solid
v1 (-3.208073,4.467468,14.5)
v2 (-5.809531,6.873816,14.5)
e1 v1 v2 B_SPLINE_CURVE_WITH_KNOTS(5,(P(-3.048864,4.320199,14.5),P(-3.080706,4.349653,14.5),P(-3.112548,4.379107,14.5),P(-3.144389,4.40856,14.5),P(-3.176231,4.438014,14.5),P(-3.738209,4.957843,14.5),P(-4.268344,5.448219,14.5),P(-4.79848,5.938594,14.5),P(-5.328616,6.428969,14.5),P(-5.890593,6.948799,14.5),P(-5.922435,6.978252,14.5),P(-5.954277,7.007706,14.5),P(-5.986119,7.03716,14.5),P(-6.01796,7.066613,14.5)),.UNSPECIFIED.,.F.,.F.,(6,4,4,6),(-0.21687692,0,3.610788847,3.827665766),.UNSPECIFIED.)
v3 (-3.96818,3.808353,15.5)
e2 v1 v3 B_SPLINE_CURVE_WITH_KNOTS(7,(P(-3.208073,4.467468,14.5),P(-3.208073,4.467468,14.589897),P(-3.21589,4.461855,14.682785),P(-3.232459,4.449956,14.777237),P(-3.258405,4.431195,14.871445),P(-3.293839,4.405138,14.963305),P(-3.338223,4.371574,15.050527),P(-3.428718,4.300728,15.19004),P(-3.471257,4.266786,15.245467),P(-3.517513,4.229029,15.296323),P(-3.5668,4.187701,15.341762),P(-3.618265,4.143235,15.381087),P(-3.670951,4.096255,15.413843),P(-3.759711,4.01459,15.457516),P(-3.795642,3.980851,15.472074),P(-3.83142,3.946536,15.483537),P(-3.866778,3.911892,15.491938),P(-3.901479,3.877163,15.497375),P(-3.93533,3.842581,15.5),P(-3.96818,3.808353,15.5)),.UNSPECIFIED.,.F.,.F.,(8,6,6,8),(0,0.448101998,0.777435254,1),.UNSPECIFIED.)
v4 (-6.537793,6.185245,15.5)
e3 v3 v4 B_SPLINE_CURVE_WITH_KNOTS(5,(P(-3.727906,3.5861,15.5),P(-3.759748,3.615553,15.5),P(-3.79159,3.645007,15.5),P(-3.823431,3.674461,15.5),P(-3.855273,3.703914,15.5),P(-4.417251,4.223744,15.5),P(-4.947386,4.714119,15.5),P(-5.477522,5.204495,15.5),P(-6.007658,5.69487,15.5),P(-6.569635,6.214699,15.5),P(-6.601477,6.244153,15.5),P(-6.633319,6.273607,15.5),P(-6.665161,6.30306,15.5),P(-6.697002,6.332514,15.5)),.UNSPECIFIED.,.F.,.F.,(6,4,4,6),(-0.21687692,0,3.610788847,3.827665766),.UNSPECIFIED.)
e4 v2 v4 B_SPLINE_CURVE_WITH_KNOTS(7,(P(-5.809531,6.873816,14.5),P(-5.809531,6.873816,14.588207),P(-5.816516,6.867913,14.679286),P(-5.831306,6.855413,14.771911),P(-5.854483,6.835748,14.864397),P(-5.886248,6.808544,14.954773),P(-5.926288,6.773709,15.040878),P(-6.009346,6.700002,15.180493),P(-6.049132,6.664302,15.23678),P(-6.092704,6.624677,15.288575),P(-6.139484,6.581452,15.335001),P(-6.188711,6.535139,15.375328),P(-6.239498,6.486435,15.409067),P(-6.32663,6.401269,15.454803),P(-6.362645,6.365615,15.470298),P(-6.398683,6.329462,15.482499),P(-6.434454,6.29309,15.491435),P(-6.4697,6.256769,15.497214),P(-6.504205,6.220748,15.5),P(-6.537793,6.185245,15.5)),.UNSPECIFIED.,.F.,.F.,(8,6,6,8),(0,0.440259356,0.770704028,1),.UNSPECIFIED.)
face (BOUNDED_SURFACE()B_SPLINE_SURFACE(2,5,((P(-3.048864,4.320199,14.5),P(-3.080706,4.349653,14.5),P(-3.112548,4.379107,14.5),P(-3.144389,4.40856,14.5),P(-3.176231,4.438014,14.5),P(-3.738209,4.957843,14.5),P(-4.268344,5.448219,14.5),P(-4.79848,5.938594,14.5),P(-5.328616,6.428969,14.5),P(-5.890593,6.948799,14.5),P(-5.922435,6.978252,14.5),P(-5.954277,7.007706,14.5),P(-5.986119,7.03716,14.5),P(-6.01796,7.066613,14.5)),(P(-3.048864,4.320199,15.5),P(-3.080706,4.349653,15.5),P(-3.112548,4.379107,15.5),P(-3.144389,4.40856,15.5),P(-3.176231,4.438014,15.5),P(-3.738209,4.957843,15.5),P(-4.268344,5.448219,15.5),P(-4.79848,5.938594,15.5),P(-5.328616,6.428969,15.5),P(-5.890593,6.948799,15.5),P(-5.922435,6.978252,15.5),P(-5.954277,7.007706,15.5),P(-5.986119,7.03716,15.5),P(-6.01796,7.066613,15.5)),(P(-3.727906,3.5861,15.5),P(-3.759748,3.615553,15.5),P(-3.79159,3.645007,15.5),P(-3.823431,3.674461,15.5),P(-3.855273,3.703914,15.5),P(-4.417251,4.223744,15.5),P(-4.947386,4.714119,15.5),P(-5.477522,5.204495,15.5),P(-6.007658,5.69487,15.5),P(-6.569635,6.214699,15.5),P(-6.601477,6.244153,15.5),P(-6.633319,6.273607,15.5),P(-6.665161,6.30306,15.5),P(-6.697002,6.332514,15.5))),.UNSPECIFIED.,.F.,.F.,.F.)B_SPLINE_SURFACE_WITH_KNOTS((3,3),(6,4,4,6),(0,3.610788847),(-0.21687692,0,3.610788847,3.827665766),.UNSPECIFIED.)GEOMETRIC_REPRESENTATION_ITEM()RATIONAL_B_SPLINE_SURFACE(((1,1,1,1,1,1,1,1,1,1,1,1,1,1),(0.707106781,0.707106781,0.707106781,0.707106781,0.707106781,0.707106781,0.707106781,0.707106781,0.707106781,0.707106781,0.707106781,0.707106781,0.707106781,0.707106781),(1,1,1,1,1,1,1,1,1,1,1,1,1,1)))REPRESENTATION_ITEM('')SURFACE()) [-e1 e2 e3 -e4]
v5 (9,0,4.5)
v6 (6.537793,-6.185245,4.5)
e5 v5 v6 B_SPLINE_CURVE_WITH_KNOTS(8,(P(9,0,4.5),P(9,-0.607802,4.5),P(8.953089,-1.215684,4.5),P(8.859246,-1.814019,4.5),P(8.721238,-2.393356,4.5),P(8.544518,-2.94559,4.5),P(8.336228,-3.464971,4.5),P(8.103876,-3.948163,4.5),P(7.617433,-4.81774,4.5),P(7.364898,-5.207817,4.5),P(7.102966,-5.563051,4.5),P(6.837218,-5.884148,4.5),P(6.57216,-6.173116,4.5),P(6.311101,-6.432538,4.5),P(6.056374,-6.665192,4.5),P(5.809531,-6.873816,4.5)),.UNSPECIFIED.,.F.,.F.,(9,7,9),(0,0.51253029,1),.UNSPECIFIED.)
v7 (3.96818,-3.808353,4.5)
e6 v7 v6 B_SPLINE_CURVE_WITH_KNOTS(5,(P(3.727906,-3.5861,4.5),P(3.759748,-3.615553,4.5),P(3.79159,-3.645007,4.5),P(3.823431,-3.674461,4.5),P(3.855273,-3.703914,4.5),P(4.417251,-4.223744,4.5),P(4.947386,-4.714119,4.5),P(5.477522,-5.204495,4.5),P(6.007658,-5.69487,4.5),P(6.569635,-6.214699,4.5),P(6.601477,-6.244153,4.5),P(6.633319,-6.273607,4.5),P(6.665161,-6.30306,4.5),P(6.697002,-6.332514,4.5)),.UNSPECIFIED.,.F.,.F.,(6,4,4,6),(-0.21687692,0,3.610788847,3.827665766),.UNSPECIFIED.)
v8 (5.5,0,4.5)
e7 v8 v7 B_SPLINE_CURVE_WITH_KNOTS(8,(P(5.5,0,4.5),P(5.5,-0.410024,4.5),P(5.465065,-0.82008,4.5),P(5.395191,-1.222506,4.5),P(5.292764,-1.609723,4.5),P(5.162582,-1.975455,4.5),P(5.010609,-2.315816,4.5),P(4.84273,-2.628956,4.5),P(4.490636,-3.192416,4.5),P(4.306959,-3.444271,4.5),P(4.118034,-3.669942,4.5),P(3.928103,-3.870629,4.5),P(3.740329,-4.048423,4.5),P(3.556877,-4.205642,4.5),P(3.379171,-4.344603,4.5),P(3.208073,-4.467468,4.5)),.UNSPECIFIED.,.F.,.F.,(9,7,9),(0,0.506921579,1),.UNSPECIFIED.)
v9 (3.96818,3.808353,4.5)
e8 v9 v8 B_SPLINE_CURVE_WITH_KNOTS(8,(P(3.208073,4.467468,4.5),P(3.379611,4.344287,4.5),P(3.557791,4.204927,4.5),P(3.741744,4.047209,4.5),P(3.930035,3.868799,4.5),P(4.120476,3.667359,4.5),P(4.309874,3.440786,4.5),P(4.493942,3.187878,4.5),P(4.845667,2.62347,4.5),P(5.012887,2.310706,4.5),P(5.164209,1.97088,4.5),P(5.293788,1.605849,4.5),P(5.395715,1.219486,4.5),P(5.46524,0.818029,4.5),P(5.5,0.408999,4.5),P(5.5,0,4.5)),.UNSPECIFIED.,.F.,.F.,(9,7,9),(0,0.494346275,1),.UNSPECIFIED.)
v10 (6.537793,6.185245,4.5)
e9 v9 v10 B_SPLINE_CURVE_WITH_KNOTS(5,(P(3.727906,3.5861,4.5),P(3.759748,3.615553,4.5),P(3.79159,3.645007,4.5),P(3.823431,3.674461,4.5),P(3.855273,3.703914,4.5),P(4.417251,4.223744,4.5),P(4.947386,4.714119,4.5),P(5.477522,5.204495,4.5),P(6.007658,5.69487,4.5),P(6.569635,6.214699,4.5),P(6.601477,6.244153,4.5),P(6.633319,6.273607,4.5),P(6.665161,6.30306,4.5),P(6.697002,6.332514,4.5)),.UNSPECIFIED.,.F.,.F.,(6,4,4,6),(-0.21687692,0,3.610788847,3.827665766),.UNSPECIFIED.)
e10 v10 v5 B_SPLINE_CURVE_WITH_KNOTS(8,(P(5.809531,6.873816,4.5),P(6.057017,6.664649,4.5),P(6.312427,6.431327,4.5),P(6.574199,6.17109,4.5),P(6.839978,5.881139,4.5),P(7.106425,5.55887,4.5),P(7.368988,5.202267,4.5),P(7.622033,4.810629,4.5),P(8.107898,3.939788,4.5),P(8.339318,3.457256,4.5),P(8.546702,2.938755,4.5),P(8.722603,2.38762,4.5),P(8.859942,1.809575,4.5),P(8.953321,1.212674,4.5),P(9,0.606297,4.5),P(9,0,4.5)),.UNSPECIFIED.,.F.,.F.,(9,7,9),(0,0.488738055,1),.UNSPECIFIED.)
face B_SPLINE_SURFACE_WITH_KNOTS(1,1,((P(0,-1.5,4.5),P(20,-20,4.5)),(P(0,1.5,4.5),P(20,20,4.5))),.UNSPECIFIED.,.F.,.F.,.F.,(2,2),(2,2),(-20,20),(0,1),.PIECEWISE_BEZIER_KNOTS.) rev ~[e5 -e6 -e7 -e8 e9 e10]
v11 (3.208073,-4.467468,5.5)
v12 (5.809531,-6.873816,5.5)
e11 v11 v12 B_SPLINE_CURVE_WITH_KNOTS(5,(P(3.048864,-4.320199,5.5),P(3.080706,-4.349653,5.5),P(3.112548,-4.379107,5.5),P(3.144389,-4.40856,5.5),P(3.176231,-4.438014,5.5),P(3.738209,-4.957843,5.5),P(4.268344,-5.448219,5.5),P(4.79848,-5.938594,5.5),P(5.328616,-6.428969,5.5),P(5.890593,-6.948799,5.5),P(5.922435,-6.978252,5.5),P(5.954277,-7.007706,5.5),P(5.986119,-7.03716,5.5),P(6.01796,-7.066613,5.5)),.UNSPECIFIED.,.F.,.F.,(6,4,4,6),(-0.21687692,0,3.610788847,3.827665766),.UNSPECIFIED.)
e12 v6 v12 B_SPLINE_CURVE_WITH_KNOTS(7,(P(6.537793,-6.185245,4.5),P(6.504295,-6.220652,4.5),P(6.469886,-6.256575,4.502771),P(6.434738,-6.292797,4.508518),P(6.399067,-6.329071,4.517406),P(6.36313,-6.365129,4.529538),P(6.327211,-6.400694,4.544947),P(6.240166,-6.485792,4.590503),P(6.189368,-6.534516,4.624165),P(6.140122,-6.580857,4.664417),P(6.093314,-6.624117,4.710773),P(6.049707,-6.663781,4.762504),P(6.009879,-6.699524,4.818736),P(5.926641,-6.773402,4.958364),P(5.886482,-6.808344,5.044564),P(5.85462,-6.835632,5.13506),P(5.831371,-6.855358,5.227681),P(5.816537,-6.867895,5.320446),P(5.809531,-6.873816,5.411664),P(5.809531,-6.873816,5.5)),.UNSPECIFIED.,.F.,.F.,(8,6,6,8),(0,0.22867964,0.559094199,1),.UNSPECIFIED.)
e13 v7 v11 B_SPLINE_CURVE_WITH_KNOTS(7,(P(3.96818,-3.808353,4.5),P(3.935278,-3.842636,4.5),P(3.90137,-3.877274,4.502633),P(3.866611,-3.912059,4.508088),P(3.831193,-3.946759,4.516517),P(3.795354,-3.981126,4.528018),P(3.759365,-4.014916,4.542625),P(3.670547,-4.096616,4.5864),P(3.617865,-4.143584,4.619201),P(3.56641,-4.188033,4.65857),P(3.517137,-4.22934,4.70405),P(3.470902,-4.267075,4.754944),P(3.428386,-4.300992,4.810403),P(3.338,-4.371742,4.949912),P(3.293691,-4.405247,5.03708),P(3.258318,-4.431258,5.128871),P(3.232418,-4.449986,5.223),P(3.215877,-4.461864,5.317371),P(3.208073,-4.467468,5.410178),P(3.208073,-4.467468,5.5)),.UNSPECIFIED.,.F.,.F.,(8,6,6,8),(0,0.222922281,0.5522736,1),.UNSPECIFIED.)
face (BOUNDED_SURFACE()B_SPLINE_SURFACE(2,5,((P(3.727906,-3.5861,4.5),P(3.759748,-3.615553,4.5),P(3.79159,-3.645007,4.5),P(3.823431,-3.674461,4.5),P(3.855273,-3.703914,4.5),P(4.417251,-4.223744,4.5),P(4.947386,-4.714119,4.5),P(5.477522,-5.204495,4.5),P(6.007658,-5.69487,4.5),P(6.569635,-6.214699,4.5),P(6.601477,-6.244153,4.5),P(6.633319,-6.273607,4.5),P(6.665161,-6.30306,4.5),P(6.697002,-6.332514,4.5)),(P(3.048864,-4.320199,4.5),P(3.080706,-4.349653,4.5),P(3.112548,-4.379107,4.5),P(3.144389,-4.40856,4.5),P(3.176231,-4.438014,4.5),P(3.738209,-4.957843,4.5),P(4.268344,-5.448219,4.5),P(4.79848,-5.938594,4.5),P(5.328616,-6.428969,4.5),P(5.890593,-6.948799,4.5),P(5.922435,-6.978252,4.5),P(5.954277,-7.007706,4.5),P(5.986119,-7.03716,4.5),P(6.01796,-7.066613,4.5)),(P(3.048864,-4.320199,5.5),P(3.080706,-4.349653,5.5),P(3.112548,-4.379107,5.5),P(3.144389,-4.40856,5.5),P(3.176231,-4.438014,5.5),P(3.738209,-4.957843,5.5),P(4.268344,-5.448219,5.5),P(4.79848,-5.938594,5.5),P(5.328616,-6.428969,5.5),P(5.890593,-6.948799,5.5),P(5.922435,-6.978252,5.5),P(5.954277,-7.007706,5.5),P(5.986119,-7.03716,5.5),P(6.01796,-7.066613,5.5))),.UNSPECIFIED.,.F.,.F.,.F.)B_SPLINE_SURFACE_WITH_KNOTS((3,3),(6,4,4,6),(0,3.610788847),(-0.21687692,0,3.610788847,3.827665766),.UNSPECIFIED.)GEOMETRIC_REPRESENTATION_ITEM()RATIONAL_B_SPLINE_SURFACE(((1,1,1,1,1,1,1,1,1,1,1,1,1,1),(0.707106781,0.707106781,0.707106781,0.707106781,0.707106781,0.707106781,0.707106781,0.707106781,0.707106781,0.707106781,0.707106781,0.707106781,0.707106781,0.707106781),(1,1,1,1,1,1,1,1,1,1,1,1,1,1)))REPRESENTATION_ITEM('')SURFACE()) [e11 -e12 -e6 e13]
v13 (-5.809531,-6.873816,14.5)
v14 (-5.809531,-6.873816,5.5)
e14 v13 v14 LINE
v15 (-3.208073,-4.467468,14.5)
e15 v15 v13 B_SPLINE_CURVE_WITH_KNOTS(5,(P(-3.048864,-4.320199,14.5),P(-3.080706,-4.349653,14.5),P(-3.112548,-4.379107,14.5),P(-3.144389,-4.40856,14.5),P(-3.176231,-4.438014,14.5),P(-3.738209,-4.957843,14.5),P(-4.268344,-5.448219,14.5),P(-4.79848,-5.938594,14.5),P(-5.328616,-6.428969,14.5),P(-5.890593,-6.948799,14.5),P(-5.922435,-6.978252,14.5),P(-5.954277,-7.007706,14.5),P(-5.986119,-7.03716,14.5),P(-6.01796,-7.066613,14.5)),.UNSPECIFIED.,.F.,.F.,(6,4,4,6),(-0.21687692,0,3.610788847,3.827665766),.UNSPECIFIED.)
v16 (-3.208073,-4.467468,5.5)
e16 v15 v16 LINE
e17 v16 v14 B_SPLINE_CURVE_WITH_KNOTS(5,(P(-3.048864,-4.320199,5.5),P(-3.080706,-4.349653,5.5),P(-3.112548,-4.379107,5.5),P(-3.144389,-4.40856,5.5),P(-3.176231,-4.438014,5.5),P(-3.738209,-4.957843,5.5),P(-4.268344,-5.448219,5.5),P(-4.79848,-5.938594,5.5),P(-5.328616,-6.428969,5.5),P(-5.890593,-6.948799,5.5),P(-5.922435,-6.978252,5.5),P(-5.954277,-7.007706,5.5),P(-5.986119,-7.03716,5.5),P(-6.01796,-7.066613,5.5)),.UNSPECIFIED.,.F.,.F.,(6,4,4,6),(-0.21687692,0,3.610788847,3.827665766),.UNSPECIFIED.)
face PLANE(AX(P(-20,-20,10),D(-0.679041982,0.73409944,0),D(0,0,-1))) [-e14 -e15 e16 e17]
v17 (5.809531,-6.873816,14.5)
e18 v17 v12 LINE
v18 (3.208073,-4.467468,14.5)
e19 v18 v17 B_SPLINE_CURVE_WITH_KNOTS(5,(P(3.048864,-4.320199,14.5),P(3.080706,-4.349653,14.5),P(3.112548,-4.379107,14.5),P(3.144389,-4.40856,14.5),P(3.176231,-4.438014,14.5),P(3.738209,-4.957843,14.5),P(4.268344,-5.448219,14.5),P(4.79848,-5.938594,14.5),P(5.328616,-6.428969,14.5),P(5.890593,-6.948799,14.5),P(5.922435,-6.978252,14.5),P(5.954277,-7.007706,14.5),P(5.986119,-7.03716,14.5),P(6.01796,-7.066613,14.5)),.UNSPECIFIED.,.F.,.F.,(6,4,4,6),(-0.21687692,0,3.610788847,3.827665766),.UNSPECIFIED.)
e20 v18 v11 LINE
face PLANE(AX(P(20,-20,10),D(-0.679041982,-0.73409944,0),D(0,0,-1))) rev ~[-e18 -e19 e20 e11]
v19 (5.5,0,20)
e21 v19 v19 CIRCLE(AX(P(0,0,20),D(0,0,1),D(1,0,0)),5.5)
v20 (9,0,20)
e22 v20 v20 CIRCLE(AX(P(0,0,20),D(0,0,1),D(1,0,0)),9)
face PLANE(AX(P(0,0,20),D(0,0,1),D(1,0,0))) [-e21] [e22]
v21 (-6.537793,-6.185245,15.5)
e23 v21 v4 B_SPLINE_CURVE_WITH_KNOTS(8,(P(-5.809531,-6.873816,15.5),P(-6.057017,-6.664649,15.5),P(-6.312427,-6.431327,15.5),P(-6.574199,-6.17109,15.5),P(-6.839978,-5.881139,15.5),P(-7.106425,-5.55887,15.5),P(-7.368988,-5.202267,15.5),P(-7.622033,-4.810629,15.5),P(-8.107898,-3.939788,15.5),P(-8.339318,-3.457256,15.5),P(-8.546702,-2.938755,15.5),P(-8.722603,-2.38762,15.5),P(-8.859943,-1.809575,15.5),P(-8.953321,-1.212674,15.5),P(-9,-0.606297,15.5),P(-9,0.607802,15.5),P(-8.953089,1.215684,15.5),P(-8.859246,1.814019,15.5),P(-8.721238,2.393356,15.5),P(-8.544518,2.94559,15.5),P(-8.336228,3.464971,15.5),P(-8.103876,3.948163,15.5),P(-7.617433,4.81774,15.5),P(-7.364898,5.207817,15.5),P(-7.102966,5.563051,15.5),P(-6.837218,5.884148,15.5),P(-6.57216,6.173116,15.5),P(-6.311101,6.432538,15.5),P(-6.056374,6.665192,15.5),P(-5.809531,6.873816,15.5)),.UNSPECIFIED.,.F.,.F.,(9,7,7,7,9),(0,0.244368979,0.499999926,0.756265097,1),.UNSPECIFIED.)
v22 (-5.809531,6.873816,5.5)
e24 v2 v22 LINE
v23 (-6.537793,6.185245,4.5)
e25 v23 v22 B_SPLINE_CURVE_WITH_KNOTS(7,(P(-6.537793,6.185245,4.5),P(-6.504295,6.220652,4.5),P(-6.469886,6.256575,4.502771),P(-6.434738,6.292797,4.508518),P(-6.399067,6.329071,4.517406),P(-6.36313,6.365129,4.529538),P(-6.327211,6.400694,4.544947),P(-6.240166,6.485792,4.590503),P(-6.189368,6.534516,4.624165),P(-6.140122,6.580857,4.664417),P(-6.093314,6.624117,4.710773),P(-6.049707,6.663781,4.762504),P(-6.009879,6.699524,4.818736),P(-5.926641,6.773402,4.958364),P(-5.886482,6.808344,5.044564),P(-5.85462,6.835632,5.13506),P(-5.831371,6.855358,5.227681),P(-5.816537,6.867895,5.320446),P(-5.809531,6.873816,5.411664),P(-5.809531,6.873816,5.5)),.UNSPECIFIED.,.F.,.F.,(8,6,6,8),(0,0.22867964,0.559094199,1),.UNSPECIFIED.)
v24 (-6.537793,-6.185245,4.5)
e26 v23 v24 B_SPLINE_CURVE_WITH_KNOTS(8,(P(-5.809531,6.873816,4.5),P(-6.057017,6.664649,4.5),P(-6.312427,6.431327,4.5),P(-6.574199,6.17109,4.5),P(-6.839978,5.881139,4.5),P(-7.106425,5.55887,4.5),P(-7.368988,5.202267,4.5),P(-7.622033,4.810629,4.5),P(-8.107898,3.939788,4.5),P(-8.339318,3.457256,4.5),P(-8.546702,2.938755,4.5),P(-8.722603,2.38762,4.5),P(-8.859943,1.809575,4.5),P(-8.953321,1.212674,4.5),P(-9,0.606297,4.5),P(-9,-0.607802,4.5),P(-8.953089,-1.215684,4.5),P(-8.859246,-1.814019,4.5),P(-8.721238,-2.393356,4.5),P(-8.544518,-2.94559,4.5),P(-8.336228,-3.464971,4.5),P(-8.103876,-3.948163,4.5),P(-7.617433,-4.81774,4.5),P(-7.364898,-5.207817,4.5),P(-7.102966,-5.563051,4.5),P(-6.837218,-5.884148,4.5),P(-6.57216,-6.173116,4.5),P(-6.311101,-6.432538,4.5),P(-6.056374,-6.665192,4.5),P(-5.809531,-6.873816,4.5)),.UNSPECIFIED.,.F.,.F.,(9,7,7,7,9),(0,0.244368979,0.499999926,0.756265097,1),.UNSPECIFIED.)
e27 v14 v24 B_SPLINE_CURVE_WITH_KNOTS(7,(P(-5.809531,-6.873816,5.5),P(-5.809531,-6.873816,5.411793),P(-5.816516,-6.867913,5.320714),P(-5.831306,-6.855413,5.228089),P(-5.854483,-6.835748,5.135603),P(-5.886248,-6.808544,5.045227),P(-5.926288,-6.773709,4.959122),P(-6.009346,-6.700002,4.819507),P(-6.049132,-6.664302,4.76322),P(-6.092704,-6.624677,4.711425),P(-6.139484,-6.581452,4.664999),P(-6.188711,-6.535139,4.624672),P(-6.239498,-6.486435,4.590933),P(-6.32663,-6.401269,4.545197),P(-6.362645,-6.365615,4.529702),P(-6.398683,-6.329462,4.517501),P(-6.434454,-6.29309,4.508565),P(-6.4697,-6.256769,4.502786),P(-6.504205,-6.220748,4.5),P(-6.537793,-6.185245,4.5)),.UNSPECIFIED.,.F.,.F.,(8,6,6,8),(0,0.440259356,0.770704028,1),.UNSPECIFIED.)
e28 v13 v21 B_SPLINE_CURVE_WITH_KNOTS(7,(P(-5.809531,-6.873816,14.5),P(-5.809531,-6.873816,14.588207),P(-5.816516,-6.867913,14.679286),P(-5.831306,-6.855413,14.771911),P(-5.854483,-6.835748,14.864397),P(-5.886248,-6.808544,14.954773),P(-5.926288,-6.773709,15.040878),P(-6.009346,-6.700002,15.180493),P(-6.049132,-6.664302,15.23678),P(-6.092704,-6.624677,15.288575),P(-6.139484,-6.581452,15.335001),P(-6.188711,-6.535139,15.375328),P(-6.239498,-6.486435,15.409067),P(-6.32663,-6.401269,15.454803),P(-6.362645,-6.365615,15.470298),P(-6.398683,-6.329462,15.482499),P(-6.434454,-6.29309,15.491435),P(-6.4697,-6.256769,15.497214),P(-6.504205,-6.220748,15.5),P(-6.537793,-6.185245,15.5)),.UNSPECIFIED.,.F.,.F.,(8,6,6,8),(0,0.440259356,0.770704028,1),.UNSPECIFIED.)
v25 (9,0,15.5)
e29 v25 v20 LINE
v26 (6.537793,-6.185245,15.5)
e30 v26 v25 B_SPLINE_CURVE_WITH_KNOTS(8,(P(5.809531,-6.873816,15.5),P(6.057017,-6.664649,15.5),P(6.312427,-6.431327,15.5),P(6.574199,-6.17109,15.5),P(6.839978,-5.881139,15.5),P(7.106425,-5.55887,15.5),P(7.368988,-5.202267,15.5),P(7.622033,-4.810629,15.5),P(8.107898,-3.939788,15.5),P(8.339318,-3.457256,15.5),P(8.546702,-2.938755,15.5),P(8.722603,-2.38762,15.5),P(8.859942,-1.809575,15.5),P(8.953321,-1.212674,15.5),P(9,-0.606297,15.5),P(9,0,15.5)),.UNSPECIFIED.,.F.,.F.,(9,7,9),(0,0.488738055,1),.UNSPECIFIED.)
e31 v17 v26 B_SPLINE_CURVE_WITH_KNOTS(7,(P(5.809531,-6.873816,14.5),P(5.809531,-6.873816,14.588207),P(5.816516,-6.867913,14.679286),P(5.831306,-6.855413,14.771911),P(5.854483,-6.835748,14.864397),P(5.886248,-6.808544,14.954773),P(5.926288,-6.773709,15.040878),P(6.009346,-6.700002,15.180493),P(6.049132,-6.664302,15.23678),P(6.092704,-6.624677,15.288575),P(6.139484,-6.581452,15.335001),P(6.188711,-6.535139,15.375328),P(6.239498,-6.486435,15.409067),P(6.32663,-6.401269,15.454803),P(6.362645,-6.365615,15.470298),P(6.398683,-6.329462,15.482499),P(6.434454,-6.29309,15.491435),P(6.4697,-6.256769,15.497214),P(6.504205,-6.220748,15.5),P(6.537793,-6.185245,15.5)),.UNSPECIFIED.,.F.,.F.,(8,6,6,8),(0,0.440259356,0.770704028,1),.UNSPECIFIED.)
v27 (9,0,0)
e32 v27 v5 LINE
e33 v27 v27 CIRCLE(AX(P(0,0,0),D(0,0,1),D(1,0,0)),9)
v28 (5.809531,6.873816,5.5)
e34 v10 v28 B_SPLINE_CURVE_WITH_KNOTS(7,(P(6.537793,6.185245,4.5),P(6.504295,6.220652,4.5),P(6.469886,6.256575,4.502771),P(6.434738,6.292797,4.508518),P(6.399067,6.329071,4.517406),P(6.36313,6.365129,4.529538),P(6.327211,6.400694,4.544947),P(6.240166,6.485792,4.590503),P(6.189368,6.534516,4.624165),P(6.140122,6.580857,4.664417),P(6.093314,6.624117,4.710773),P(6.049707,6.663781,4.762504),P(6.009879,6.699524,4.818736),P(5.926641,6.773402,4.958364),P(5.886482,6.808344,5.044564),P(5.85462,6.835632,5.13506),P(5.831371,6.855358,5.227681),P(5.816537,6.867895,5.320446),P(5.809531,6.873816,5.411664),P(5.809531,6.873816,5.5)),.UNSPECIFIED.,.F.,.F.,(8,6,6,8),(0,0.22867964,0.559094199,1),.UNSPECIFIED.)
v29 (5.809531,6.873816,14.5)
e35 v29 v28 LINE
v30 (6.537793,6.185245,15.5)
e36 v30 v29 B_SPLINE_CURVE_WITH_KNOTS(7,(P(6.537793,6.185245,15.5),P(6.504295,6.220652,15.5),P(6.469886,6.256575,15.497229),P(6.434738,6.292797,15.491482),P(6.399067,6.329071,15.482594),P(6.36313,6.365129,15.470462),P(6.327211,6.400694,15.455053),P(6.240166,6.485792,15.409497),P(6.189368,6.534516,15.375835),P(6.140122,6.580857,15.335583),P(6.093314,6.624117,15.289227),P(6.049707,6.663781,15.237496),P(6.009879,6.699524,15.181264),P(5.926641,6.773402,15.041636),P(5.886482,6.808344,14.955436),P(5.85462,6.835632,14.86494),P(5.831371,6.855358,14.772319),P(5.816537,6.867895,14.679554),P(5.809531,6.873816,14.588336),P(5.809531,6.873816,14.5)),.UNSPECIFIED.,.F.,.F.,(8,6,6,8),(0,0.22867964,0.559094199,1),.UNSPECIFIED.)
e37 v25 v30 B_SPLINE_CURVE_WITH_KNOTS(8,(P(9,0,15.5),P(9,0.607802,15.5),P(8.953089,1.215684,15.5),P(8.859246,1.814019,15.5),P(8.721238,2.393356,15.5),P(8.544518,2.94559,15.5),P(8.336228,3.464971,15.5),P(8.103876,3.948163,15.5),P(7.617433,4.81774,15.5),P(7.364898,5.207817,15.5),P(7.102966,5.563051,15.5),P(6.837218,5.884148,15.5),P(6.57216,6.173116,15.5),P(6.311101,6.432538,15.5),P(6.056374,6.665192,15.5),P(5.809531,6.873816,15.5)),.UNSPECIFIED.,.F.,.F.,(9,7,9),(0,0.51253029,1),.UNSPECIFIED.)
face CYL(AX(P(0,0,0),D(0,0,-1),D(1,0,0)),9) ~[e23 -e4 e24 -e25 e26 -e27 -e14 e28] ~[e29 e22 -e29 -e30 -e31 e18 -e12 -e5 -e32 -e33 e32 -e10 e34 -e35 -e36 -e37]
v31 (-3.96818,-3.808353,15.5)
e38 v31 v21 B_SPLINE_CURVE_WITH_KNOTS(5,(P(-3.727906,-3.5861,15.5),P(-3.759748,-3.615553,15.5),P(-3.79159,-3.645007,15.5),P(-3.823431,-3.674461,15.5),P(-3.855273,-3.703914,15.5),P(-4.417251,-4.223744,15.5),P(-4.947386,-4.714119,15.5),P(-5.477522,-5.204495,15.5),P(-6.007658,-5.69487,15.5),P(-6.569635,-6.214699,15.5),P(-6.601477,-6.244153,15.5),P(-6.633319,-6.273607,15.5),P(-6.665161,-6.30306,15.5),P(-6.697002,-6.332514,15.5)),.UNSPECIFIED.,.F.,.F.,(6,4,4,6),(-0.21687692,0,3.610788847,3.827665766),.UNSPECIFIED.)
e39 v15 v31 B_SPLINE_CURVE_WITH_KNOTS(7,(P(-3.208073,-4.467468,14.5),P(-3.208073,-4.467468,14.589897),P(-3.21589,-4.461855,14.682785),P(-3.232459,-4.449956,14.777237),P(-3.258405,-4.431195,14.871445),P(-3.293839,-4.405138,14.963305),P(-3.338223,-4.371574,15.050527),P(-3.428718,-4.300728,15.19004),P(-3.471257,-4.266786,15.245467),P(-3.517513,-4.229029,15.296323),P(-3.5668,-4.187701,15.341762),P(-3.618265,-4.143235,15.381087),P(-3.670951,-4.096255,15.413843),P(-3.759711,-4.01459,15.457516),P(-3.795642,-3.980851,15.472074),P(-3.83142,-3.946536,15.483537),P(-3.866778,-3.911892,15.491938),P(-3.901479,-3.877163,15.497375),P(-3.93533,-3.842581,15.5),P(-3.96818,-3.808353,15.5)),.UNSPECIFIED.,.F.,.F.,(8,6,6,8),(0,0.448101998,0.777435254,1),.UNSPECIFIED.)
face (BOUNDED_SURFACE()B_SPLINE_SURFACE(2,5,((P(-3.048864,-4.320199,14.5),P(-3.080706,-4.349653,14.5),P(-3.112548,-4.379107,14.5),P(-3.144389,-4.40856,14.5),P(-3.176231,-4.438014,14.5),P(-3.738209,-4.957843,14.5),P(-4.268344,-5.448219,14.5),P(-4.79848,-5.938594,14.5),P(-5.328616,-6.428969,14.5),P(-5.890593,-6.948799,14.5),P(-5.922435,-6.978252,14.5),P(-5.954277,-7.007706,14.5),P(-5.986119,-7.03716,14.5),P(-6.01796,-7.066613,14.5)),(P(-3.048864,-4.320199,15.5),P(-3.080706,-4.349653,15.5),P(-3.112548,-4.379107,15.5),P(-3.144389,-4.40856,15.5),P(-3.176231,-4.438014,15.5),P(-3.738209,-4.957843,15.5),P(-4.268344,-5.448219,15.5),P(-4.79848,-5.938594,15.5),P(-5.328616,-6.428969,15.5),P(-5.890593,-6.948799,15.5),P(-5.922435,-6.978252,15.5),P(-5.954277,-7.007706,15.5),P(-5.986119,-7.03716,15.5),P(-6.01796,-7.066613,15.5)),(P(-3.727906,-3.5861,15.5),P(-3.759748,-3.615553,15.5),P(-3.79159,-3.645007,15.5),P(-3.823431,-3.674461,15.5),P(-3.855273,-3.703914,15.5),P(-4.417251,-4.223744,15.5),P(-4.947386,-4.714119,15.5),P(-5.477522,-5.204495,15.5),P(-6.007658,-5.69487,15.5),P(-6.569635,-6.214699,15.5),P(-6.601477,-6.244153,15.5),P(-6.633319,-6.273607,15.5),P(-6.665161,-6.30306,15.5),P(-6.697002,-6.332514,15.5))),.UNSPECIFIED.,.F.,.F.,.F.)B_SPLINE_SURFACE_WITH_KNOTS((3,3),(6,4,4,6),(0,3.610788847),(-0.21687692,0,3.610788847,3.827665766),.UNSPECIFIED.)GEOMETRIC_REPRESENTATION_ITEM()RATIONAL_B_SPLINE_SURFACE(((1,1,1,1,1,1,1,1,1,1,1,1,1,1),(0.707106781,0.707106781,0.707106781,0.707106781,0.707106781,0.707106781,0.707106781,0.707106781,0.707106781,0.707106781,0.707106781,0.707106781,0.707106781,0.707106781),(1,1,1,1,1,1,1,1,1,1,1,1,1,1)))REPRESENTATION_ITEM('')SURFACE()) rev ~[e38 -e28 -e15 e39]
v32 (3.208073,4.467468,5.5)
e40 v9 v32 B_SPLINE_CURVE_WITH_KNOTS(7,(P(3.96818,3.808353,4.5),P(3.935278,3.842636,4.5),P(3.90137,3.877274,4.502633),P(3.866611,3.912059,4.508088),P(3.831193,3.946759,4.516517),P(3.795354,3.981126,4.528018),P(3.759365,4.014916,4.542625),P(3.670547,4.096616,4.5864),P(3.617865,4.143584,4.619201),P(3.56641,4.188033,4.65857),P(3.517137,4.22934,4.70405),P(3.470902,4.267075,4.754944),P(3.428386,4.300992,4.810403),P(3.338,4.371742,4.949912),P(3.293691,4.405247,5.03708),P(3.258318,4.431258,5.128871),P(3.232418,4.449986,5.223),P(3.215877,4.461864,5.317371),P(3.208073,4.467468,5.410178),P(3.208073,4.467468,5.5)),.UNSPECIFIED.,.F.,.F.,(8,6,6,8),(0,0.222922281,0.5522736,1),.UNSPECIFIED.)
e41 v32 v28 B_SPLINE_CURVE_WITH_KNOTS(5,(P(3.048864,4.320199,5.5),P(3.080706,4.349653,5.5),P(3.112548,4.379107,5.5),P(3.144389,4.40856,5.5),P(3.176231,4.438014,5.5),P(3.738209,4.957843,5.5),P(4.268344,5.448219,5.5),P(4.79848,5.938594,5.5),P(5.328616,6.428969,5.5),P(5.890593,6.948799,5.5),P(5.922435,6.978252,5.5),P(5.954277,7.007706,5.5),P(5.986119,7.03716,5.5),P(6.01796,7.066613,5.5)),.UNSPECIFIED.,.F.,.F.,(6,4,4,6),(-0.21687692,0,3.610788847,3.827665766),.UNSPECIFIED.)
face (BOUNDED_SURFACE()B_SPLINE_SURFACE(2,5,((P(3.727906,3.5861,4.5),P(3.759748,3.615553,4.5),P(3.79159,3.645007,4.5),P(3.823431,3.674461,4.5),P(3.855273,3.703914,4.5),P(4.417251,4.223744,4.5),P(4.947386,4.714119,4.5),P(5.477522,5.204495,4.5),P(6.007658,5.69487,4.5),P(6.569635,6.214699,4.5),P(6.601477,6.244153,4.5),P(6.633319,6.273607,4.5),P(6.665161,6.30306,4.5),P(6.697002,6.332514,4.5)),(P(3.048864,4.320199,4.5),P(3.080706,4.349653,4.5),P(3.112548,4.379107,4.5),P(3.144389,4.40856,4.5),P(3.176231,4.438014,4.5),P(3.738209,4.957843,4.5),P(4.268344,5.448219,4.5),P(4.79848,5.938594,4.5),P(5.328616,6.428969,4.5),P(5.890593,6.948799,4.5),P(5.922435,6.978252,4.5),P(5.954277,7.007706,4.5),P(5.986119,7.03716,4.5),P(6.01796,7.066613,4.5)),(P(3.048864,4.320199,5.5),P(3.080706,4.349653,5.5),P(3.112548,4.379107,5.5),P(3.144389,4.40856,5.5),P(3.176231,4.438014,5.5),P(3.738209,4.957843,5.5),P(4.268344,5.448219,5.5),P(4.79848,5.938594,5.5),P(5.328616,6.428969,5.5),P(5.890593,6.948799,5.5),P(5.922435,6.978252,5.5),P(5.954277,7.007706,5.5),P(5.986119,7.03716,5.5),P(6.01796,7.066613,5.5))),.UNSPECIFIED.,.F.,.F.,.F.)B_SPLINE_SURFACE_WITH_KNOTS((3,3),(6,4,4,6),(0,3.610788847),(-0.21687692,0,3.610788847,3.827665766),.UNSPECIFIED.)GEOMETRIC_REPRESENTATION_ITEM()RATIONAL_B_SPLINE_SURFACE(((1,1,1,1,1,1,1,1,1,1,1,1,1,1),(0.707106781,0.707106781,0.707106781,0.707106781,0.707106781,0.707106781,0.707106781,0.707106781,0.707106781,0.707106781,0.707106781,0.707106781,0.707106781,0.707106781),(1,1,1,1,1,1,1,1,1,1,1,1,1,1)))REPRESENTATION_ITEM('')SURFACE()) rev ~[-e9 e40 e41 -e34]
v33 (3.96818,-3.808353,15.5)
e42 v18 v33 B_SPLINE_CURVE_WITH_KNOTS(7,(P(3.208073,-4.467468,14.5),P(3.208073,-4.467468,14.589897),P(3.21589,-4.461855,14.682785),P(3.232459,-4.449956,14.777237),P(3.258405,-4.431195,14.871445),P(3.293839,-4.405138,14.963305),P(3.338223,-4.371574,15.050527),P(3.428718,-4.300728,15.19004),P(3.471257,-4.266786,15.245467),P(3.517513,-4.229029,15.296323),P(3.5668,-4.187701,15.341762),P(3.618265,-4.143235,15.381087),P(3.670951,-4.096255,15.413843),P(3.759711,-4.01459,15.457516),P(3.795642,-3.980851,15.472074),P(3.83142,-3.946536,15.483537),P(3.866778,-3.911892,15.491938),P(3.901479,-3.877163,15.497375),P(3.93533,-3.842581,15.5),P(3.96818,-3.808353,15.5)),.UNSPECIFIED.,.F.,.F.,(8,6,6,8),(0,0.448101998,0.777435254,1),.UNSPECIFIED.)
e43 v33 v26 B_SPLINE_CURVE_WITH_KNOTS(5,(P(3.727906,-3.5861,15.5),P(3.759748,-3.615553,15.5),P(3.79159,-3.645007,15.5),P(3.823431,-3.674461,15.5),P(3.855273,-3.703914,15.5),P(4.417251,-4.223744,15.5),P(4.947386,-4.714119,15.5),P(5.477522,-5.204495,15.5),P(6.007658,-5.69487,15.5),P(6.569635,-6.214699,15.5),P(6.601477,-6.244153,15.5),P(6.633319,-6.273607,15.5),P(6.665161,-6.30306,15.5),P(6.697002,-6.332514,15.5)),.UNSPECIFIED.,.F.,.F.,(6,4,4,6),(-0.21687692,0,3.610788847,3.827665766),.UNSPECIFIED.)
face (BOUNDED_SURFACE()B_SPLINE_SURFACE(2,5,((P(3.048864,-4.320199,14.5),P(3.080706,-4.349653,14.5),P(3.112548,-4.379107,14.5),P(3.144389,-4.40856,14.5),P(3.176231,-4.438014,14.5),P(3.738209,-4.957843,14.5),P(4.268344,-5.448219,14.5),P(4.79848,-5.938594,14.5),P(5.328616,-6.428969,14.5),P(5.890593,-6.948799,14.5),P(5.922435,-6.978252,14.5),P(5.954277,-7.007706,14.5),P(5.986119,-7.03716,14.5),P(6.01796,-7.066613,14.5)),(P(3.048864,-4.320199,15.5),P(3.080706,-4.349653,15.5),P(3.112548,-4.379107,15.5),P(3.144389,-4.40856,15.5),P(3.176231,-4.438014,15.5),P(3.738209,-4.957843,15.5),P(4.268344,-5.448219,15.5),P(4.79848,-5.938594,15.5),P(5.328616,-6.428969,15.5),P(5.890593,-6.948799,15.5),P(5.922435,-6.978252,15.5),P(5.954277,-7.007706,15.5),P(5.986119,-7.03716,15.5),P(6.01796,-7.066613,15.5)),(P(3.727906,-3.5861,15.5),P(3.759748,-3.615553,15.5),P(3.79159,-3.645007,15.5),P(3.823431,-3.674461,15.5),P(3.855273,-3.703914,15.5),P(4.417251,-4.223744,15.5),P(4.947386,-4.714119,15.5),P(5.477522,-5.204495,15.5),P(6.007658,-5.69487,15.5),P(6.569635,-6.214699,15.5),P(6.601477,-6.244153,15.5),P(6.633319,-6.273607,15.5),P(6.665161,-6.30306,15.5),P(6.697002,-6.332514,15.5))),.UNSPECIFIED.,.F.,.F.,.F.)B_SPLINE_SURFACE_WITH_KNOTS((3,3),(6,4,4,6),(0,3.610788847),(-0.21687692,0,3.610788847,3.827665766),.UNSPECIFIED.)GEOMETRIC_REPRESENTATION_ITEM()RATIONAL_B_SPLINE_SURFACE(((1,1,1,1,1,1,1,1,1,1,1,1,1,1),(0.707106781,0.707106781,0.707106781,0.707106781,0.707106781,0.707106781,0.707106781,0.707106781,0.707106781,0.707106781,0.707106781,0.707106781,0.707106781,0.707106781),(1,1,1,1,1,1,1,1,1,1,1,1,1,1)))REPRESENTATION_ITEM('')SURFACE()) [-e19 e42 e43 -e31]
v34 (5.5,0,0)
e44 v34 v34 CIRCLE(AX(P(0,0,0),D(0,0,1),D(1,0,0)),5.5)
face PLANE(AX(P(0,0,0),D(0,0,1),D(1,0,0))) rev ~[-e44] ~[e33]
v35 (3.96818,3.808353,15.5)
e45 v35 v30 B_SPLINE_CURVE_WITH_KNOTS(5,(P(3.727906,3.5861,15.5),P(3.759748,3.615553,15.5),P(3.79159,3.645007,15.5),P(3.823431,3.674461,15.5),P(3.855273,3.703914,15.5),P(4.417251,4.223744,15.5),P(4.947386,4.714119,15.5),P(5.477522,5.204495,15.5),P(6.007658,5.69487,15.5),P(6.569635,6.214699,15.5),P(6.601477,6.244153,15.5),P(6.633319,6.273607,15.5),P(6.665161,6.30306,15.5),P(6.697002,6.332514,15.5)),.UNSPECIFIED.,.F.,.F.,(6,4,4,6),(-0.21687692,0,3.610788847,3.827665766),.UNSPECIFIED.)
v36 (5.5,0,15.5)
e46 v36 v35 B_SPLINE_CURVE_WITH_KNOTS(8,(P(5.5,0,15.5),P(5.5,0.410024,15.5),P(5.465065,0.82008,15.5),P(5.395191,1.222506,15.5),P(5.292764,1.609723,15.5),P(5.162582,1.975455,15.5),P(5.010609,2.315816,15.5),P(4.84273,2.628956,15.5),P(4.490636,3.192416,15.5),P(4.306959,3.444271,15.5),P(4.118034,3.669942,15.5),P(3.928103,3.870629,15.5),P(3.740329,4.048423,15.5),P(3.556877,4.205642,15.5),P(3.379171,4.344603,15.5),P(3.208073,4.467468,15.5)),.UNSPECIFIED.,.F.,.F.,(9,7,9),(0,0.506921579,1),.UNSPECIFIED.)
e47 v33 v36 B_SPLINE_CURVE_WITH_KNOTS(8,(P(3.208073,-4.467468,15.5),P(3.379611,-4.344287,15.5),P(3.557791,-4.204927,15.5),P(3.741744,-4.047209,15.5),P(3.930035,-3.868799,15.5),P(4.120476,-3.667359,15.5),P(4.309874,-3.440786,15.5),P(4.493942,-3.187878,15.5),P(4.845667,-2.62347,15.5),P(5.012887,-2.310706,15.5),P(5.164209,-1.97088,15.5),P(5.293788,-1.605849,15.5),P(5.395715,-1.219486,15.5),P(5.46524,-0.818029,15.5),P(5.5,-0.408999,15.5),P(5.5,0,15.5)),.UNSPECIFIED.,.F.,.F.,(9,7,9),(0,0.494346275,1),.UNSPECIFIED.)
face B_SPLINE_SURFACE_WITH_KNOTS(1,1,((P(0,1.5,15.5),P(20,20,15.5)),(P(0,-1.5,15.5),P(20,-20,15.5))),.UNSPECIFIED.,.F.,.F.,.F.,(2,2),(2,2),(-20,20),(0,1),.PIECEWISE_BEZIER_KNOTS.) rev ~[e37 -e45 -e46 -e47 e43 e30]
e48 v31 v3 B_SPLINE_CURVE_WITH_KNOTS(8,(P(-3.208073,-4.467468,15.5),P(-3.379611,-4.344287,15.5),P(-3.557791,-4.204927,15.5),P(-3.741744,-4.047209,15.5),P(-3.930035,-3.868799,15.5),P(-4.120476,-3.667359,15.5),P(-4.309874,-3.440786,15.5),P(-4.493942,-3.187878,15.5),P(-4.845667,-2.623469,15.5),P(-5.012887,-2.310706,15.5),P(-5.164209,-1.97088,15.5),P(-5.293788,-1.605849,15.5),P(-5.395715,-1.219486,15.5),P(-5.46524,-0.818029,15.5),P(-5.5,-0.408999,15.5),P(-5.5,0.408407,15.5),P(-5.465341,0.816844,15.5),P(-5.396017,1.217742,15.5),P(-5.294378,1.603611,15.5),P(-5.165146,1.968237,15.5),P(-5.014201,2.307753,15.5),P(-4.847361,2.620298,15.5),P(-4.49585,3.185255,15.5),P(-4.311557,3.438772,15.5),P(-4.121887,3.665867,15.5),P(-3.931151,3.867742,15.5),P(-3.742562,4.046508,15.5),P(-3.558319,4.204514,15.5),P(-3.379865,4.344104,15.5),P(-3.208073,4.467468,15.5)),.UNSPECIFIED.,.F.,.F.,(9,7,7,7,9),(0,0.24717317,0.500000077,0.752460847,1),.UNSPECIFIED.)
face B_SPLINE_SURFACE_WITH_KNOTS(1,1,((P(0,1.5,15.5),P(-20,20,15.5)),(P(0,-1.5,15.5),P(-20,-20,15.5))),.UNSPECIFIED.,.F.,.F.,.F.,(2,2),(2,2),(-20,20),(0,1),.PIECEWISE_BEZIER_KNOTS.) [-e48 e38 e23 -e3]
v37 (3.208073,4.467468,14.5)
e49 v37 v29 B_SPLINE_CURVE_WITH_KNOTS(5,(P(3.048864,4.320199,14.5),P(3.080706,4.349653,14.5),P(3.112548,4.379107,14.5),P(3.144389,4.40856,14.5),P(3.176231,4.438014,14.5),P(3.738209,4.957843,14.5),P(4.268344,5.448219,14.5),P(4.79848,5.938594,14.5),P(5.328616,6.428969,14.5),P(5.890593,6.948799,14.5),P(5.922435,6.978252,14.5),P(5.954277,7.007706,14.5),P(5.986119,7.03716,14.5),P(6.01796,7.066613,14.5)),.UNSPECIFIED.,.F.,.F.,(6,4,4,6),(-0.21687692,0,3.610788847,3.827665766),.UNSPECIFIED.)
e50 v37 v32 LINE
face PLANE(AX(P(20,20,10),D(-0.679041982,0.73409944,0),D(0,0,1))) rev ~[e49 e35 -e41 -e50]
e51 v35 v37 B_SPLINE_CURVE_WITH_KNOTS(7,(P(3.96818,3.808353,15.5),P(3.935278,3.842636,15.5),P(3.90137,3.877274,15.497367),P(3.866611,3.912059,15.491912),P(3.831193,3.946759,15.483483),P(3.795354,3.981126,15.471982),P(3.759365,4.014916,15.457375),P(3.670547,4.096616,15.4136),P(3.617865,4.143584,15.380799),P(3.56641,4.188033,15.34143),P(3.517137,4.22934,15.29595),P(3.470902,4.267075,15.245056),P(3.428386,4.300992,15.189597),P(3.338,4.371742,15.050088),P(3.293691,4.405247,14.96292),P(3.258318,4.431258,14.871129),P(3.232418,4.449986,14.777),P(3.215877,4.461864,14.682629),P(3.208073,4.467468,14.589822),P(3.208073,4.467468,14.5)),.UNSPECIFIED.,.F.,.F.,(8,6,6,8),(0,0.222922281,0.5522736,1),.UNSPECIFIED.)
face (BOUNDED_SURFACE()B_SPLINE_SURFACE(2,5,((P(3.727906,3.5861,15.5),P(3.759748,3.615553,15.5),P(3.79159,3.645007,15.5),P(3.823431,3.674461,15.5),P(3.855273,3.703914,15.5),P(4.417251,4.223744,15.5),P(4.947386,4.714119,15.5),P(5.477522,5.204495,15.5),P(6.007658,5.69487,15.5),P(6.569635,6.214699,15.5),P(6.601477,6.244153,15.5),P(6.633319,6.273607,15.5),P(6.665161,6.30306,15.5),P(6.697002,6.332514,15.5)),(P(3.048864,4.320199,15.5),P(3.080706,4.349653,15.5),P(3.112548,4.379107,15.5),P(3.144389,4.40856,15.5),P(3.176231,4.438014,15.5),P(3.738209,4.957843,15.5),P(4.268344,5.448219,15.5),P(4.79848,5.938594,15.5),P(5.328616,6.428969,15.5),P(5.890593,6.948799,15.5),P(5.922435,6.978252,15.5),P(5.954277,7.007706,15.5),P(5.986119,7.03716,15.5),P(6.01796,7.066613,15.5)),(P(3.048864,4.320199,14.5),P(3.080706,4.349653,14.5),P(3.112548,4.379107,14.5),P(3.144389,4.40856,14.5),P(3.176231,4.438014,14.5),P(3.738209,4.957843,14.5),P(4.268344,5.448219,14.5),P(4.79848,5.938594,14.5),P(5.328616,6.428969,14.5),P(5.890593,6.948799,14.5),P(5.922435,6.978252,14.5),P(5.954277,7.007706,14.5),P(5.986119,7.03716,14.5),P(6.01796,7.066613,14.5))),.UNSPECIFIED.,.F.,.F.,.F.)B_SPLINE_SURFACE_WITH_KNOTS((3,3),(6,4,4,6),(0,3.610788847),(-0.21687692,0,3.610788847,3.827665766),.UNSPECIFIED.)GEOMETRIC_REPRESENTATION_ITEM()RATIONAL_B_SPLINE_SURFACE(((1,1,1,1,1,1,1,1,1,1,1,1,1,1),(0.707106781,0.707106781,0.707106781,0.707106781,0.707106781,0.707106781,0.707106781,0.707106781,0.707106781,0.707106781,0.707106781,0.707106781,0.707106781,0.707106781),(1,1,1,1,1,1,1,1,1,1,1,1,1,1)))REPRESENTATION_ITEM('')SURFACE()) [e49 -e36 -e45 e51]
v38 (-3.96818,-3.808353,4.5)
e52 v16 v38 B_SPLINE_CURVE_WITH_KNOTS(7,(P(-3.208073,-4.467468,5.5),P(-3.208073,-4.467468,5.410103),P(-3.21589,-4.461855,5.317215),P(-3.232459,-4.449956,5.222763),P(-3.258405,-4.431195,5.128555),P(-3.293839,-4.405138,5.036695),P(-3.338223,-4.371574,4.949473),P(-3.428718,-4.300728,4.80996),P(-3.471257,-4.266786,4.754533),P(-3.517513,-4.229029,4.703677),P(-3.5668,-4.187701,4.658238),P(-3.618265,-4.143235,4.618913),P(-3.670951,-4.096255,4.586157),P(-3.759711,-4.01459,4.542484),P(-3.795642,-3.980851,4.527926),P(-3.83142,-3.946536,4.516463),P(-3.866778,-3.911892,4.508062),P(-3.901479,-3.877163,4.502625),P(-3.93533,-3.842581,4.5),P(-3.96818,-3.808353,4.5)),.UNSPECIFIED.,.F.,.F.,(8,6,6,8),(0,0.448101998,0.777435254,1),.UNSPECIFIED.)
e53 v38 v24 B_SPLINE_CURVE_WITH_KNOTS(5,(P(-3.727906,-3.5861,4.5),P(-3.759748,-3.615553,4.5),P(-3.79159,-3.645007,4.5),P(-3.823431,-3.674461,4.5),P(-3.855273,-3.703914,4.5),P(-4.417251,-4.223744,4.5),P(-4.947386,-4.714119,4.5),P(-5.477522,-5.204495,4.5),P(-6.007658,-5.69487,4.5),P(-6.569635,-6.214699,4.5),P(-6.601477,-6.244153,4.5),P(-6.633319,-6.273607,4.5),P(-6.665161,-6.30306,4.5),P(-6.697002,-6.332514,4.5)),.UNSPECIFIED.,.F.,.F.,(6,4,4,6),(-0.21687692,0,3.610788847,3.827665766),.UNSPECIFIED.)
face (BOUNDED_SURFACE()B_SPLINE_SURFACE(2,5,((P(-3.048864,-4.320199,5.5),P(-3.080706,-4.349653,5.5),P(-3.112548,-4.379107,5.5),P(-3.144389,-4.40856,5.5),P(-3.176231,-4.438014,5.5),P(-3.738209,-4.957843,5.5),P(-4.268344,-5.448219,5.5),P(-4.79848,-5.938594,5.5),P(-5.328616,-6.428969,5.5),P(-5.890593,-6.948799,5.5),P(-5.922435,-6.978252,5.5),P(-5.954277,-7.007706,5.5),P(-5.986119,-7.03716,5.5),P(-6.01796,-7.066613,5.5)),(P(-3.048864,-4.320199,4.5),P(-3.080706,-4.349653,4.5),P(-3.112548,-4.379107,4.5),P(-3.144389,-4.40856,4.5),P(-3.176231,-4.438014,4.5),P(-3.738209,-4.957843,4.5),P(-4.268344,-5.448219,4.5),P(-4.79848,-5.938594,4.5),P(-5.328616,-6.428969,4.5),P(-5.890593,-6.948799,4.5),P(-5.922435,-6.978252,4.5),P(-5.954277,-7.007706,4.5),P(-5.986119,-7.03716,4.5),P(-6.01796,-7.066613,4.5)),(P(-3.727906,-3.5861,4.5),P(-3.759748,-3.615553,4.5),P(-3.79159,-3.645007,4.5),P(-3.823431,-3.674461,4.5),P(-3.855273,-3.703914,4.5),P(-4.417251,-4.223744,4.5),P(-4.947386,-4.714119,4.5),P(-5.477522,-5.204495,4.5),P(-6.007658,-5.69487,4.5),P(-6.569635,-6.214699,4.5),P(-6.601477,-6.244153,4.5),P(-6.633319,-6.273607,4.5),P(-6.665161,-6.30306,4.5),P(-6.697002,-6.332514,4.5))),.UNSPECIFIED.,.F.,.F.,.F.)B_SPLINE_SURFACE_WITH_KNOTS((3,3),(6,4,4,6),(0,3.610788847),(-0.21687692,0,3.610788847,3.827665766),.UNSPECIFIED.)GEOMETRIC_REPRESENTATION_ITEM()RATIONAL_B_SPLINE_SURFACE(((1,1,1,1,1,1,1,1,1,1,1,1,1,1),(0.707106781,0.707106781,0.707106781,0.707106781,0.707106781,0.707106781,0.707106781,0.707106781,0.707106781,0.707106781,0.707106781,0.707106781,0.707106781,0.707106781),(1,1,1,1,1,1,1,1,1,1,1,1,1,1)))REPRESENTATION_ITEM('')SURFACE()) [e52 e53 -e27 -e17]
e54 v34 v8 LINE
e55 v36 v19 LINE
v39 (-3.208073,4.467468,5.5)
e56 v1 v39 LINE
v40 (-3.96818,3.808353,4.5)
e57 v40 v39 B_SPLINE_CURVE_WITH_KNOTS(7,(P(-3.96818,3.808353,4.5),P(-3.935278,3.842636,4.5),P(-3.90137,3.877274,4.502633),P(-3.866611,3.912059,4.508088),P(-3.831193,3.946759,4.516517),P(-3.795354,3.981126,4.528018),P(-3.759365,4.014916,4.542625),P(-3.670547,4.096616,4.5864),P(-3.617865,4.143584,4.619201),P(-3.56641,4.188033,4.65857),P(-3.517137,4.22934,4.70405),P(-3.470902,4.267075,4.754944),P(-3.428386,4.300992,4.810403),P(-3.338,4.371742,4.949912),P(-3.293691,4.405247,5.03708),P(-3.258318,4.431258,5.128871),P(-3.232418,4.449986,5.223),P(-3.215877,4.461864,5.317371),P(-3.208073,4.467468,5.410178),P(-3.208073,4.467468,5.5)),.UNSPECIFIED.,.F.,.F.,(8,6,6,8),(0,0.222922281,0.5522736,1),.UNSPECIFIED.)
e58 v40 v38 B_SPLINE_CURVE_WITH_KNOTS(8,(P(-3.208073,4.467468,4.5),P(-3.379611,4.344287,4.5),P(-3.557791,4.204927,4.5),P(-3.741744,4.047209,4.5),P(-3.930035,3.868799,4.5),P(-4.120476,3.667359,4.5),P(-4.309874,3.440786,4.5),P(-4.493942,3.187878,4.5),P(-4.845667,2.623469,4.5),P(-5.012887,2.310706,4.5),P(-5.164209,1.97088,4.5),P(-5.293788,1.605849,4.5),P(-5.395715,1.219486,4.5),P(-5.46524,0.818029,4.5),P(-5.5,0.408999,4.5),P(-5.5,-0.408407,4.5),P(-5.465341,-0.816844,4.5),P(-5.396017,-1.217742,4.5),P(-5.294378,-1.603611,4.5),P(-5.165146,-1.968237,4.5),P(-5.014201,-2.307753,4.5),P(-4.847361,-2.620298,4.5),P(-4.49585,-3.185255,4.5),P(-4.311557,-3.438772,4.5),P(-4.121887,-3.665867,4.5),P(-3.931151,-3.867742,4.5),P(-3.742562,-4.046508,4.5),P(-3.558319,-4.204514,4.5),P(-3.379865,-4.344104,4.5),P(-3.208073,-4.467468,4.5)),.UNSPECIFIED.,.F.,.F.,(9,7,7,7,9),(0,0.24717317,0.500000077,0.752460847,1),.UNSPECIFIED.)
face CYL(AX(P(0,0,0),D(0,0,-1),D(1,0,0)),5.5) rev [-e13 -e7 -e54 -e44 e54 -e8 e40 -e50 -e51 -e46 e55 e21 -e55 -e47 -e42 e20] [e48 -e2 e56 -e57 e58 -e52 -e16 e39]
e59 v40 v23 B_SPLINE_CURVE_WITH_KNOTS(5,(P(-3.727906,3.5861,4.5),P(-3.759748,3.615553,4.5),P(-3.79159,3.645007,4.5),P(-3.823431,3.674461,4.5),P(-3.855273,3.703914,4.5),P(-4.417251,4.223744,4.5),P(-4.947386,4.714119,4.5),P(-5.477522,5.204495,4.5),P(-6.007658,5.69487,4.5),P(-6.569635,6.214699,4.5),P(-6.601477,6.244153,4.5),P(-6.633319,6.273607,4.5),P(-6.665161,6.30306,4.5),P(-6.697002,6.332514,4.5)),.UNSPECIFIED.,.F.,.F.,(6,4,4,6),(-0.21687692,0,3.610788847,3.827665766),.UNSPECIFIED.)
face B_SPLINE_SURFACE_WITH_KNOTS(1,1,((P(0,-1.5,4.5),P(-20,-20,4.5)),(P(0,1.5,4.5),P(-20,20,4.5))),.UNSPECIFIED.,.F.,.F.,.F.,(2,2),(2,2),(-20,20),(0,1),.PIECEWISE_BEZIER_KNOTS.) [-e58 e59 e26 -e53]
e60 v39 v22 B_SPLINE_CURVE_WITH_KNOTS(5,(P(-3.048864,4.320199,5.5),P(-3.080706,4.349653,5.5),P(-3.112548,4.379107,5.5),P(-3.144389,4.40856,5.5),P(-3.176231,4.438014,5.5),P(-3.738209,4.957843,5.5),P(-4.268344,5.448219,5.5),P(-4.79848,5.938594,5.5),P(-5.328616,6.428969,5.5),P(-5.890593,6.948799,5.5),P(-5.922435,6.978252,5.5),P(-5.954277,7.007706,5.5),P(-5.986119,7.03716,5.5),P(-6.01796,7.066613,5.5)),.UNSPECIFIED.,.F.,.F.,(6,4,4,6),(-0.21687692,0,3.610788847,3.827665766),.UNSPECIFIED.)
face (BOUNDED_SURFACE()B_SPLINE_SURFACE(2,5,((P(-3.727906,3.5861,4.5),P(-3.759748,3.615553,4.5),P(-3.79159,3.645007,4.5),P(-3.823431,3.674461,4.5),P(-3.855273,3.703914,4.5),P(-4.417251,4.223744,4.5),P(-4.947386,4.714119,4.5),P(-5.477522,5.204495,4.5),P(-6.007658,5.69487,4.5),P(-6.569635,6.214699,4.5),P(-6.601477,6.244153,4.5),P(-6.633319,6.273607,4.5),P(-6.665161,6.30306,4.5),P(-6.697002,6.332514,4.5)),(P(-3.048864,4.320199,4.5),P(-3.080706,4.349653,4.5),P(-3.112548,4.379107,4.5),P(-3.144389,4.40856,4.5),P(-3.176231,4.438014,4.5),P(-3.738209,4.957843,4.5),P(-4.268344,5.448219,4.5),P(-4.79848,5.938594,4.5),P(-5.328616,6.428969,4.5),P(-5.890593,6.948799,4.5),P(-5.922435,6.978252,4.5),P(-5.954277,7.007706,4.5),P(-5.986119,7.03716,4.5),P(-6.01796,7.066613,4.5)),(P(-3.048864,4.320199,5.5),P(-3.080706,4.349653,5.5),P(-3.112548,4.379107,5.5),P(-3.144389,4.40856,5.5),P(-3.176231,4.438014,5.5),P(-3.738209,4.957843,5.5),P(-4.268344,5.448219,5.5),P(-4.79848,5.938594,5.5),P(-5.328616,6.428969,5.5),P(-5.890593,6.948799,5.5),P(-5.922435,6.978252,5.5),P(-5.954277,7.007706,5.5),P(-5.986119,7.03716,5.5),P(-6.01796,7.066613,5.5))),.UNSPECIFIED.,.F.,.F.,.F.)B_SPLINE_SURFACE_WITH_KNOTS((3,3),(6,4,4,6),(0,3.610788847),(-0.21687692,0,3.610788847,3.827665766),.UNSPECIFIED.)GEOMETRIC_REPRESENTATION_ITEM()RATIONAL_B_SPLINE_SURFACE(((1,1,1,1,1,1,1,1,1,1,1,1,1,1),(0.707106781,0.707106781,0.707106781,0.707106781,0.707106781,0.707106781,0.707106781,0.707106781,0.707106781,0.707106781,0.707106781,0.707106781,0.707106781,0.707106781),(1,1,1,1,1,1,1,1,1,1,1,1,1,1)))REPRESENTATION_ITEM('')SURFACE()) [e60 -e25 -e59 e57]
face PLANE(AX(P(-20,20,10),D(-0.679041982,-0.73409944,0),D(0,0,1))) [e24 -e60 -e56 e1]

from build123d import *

# Parameters (mm, degrees)
F0_R     = 9
F0_R_2   = 5.5
F1_DEPTH = 20
F2_W     = 3
F2_H     = 11
F4_W     = 40
F4_H     = 11
F6_W     = 40
F6_H     = 11
F9_R     = 1


with BuildPart() as f1:
    # F0 (on Top) → F1 (new body)
    with BuildSketch(Plane.XY):
        Circle(F0_R)
        Circle(F0_R_2, mode=Mode.SUBTRACT)
    extrude(amount=F1_DEPTH)

    # F2 (on Right) → F7 section 0
    with BuildSketch(Plane.YZ):
        with Locations((0, 10)):
            Rectangle(F2_W, F2_H)
    # F4 (on offset) → F7 section 1
    with BuildSketch(Plane.YZ.offset(20)):
        with Locations((0, 10)):
            Rectangle(F4_W, F4_H)
    loft(mode=Mode.SUBTRACT)

    # F2 (on Right) → F8 section 0
    with BuildSketch(Plane.YZ):
        with Locations((0, 10)):
            Rectangle(F2_W, F2_H)
    # F6 (on offset) → F8 section 1
    with BuildSketch(Plane.YZ.offset(-20)):
        with Locations((0, 10)):
            Rectangle(F6_W, F6_H)
    loft(mode=Mode.SUBTRACT)

    # F9
    f9_edges = [f1.edges().sort_by_distance(p)[0] for p in [
        (4.508802, -5.670642, 15.5),
        (4.508802, 5.670642, 15.5),
        (4.508802, 5.670642, 4.5),
        (4.508802, -5.670642, 4.5),
        (-4.508802, 5.670642, 4.5),
        (-4.508802, -5.670642, 4.5),
        (-4.508802, -5.670642, 15.5),
        (-4.508802, 5.670642, 15.5),
    ]]
    fillet(f9_edges, radius=F9_R)


solid = f1.part
